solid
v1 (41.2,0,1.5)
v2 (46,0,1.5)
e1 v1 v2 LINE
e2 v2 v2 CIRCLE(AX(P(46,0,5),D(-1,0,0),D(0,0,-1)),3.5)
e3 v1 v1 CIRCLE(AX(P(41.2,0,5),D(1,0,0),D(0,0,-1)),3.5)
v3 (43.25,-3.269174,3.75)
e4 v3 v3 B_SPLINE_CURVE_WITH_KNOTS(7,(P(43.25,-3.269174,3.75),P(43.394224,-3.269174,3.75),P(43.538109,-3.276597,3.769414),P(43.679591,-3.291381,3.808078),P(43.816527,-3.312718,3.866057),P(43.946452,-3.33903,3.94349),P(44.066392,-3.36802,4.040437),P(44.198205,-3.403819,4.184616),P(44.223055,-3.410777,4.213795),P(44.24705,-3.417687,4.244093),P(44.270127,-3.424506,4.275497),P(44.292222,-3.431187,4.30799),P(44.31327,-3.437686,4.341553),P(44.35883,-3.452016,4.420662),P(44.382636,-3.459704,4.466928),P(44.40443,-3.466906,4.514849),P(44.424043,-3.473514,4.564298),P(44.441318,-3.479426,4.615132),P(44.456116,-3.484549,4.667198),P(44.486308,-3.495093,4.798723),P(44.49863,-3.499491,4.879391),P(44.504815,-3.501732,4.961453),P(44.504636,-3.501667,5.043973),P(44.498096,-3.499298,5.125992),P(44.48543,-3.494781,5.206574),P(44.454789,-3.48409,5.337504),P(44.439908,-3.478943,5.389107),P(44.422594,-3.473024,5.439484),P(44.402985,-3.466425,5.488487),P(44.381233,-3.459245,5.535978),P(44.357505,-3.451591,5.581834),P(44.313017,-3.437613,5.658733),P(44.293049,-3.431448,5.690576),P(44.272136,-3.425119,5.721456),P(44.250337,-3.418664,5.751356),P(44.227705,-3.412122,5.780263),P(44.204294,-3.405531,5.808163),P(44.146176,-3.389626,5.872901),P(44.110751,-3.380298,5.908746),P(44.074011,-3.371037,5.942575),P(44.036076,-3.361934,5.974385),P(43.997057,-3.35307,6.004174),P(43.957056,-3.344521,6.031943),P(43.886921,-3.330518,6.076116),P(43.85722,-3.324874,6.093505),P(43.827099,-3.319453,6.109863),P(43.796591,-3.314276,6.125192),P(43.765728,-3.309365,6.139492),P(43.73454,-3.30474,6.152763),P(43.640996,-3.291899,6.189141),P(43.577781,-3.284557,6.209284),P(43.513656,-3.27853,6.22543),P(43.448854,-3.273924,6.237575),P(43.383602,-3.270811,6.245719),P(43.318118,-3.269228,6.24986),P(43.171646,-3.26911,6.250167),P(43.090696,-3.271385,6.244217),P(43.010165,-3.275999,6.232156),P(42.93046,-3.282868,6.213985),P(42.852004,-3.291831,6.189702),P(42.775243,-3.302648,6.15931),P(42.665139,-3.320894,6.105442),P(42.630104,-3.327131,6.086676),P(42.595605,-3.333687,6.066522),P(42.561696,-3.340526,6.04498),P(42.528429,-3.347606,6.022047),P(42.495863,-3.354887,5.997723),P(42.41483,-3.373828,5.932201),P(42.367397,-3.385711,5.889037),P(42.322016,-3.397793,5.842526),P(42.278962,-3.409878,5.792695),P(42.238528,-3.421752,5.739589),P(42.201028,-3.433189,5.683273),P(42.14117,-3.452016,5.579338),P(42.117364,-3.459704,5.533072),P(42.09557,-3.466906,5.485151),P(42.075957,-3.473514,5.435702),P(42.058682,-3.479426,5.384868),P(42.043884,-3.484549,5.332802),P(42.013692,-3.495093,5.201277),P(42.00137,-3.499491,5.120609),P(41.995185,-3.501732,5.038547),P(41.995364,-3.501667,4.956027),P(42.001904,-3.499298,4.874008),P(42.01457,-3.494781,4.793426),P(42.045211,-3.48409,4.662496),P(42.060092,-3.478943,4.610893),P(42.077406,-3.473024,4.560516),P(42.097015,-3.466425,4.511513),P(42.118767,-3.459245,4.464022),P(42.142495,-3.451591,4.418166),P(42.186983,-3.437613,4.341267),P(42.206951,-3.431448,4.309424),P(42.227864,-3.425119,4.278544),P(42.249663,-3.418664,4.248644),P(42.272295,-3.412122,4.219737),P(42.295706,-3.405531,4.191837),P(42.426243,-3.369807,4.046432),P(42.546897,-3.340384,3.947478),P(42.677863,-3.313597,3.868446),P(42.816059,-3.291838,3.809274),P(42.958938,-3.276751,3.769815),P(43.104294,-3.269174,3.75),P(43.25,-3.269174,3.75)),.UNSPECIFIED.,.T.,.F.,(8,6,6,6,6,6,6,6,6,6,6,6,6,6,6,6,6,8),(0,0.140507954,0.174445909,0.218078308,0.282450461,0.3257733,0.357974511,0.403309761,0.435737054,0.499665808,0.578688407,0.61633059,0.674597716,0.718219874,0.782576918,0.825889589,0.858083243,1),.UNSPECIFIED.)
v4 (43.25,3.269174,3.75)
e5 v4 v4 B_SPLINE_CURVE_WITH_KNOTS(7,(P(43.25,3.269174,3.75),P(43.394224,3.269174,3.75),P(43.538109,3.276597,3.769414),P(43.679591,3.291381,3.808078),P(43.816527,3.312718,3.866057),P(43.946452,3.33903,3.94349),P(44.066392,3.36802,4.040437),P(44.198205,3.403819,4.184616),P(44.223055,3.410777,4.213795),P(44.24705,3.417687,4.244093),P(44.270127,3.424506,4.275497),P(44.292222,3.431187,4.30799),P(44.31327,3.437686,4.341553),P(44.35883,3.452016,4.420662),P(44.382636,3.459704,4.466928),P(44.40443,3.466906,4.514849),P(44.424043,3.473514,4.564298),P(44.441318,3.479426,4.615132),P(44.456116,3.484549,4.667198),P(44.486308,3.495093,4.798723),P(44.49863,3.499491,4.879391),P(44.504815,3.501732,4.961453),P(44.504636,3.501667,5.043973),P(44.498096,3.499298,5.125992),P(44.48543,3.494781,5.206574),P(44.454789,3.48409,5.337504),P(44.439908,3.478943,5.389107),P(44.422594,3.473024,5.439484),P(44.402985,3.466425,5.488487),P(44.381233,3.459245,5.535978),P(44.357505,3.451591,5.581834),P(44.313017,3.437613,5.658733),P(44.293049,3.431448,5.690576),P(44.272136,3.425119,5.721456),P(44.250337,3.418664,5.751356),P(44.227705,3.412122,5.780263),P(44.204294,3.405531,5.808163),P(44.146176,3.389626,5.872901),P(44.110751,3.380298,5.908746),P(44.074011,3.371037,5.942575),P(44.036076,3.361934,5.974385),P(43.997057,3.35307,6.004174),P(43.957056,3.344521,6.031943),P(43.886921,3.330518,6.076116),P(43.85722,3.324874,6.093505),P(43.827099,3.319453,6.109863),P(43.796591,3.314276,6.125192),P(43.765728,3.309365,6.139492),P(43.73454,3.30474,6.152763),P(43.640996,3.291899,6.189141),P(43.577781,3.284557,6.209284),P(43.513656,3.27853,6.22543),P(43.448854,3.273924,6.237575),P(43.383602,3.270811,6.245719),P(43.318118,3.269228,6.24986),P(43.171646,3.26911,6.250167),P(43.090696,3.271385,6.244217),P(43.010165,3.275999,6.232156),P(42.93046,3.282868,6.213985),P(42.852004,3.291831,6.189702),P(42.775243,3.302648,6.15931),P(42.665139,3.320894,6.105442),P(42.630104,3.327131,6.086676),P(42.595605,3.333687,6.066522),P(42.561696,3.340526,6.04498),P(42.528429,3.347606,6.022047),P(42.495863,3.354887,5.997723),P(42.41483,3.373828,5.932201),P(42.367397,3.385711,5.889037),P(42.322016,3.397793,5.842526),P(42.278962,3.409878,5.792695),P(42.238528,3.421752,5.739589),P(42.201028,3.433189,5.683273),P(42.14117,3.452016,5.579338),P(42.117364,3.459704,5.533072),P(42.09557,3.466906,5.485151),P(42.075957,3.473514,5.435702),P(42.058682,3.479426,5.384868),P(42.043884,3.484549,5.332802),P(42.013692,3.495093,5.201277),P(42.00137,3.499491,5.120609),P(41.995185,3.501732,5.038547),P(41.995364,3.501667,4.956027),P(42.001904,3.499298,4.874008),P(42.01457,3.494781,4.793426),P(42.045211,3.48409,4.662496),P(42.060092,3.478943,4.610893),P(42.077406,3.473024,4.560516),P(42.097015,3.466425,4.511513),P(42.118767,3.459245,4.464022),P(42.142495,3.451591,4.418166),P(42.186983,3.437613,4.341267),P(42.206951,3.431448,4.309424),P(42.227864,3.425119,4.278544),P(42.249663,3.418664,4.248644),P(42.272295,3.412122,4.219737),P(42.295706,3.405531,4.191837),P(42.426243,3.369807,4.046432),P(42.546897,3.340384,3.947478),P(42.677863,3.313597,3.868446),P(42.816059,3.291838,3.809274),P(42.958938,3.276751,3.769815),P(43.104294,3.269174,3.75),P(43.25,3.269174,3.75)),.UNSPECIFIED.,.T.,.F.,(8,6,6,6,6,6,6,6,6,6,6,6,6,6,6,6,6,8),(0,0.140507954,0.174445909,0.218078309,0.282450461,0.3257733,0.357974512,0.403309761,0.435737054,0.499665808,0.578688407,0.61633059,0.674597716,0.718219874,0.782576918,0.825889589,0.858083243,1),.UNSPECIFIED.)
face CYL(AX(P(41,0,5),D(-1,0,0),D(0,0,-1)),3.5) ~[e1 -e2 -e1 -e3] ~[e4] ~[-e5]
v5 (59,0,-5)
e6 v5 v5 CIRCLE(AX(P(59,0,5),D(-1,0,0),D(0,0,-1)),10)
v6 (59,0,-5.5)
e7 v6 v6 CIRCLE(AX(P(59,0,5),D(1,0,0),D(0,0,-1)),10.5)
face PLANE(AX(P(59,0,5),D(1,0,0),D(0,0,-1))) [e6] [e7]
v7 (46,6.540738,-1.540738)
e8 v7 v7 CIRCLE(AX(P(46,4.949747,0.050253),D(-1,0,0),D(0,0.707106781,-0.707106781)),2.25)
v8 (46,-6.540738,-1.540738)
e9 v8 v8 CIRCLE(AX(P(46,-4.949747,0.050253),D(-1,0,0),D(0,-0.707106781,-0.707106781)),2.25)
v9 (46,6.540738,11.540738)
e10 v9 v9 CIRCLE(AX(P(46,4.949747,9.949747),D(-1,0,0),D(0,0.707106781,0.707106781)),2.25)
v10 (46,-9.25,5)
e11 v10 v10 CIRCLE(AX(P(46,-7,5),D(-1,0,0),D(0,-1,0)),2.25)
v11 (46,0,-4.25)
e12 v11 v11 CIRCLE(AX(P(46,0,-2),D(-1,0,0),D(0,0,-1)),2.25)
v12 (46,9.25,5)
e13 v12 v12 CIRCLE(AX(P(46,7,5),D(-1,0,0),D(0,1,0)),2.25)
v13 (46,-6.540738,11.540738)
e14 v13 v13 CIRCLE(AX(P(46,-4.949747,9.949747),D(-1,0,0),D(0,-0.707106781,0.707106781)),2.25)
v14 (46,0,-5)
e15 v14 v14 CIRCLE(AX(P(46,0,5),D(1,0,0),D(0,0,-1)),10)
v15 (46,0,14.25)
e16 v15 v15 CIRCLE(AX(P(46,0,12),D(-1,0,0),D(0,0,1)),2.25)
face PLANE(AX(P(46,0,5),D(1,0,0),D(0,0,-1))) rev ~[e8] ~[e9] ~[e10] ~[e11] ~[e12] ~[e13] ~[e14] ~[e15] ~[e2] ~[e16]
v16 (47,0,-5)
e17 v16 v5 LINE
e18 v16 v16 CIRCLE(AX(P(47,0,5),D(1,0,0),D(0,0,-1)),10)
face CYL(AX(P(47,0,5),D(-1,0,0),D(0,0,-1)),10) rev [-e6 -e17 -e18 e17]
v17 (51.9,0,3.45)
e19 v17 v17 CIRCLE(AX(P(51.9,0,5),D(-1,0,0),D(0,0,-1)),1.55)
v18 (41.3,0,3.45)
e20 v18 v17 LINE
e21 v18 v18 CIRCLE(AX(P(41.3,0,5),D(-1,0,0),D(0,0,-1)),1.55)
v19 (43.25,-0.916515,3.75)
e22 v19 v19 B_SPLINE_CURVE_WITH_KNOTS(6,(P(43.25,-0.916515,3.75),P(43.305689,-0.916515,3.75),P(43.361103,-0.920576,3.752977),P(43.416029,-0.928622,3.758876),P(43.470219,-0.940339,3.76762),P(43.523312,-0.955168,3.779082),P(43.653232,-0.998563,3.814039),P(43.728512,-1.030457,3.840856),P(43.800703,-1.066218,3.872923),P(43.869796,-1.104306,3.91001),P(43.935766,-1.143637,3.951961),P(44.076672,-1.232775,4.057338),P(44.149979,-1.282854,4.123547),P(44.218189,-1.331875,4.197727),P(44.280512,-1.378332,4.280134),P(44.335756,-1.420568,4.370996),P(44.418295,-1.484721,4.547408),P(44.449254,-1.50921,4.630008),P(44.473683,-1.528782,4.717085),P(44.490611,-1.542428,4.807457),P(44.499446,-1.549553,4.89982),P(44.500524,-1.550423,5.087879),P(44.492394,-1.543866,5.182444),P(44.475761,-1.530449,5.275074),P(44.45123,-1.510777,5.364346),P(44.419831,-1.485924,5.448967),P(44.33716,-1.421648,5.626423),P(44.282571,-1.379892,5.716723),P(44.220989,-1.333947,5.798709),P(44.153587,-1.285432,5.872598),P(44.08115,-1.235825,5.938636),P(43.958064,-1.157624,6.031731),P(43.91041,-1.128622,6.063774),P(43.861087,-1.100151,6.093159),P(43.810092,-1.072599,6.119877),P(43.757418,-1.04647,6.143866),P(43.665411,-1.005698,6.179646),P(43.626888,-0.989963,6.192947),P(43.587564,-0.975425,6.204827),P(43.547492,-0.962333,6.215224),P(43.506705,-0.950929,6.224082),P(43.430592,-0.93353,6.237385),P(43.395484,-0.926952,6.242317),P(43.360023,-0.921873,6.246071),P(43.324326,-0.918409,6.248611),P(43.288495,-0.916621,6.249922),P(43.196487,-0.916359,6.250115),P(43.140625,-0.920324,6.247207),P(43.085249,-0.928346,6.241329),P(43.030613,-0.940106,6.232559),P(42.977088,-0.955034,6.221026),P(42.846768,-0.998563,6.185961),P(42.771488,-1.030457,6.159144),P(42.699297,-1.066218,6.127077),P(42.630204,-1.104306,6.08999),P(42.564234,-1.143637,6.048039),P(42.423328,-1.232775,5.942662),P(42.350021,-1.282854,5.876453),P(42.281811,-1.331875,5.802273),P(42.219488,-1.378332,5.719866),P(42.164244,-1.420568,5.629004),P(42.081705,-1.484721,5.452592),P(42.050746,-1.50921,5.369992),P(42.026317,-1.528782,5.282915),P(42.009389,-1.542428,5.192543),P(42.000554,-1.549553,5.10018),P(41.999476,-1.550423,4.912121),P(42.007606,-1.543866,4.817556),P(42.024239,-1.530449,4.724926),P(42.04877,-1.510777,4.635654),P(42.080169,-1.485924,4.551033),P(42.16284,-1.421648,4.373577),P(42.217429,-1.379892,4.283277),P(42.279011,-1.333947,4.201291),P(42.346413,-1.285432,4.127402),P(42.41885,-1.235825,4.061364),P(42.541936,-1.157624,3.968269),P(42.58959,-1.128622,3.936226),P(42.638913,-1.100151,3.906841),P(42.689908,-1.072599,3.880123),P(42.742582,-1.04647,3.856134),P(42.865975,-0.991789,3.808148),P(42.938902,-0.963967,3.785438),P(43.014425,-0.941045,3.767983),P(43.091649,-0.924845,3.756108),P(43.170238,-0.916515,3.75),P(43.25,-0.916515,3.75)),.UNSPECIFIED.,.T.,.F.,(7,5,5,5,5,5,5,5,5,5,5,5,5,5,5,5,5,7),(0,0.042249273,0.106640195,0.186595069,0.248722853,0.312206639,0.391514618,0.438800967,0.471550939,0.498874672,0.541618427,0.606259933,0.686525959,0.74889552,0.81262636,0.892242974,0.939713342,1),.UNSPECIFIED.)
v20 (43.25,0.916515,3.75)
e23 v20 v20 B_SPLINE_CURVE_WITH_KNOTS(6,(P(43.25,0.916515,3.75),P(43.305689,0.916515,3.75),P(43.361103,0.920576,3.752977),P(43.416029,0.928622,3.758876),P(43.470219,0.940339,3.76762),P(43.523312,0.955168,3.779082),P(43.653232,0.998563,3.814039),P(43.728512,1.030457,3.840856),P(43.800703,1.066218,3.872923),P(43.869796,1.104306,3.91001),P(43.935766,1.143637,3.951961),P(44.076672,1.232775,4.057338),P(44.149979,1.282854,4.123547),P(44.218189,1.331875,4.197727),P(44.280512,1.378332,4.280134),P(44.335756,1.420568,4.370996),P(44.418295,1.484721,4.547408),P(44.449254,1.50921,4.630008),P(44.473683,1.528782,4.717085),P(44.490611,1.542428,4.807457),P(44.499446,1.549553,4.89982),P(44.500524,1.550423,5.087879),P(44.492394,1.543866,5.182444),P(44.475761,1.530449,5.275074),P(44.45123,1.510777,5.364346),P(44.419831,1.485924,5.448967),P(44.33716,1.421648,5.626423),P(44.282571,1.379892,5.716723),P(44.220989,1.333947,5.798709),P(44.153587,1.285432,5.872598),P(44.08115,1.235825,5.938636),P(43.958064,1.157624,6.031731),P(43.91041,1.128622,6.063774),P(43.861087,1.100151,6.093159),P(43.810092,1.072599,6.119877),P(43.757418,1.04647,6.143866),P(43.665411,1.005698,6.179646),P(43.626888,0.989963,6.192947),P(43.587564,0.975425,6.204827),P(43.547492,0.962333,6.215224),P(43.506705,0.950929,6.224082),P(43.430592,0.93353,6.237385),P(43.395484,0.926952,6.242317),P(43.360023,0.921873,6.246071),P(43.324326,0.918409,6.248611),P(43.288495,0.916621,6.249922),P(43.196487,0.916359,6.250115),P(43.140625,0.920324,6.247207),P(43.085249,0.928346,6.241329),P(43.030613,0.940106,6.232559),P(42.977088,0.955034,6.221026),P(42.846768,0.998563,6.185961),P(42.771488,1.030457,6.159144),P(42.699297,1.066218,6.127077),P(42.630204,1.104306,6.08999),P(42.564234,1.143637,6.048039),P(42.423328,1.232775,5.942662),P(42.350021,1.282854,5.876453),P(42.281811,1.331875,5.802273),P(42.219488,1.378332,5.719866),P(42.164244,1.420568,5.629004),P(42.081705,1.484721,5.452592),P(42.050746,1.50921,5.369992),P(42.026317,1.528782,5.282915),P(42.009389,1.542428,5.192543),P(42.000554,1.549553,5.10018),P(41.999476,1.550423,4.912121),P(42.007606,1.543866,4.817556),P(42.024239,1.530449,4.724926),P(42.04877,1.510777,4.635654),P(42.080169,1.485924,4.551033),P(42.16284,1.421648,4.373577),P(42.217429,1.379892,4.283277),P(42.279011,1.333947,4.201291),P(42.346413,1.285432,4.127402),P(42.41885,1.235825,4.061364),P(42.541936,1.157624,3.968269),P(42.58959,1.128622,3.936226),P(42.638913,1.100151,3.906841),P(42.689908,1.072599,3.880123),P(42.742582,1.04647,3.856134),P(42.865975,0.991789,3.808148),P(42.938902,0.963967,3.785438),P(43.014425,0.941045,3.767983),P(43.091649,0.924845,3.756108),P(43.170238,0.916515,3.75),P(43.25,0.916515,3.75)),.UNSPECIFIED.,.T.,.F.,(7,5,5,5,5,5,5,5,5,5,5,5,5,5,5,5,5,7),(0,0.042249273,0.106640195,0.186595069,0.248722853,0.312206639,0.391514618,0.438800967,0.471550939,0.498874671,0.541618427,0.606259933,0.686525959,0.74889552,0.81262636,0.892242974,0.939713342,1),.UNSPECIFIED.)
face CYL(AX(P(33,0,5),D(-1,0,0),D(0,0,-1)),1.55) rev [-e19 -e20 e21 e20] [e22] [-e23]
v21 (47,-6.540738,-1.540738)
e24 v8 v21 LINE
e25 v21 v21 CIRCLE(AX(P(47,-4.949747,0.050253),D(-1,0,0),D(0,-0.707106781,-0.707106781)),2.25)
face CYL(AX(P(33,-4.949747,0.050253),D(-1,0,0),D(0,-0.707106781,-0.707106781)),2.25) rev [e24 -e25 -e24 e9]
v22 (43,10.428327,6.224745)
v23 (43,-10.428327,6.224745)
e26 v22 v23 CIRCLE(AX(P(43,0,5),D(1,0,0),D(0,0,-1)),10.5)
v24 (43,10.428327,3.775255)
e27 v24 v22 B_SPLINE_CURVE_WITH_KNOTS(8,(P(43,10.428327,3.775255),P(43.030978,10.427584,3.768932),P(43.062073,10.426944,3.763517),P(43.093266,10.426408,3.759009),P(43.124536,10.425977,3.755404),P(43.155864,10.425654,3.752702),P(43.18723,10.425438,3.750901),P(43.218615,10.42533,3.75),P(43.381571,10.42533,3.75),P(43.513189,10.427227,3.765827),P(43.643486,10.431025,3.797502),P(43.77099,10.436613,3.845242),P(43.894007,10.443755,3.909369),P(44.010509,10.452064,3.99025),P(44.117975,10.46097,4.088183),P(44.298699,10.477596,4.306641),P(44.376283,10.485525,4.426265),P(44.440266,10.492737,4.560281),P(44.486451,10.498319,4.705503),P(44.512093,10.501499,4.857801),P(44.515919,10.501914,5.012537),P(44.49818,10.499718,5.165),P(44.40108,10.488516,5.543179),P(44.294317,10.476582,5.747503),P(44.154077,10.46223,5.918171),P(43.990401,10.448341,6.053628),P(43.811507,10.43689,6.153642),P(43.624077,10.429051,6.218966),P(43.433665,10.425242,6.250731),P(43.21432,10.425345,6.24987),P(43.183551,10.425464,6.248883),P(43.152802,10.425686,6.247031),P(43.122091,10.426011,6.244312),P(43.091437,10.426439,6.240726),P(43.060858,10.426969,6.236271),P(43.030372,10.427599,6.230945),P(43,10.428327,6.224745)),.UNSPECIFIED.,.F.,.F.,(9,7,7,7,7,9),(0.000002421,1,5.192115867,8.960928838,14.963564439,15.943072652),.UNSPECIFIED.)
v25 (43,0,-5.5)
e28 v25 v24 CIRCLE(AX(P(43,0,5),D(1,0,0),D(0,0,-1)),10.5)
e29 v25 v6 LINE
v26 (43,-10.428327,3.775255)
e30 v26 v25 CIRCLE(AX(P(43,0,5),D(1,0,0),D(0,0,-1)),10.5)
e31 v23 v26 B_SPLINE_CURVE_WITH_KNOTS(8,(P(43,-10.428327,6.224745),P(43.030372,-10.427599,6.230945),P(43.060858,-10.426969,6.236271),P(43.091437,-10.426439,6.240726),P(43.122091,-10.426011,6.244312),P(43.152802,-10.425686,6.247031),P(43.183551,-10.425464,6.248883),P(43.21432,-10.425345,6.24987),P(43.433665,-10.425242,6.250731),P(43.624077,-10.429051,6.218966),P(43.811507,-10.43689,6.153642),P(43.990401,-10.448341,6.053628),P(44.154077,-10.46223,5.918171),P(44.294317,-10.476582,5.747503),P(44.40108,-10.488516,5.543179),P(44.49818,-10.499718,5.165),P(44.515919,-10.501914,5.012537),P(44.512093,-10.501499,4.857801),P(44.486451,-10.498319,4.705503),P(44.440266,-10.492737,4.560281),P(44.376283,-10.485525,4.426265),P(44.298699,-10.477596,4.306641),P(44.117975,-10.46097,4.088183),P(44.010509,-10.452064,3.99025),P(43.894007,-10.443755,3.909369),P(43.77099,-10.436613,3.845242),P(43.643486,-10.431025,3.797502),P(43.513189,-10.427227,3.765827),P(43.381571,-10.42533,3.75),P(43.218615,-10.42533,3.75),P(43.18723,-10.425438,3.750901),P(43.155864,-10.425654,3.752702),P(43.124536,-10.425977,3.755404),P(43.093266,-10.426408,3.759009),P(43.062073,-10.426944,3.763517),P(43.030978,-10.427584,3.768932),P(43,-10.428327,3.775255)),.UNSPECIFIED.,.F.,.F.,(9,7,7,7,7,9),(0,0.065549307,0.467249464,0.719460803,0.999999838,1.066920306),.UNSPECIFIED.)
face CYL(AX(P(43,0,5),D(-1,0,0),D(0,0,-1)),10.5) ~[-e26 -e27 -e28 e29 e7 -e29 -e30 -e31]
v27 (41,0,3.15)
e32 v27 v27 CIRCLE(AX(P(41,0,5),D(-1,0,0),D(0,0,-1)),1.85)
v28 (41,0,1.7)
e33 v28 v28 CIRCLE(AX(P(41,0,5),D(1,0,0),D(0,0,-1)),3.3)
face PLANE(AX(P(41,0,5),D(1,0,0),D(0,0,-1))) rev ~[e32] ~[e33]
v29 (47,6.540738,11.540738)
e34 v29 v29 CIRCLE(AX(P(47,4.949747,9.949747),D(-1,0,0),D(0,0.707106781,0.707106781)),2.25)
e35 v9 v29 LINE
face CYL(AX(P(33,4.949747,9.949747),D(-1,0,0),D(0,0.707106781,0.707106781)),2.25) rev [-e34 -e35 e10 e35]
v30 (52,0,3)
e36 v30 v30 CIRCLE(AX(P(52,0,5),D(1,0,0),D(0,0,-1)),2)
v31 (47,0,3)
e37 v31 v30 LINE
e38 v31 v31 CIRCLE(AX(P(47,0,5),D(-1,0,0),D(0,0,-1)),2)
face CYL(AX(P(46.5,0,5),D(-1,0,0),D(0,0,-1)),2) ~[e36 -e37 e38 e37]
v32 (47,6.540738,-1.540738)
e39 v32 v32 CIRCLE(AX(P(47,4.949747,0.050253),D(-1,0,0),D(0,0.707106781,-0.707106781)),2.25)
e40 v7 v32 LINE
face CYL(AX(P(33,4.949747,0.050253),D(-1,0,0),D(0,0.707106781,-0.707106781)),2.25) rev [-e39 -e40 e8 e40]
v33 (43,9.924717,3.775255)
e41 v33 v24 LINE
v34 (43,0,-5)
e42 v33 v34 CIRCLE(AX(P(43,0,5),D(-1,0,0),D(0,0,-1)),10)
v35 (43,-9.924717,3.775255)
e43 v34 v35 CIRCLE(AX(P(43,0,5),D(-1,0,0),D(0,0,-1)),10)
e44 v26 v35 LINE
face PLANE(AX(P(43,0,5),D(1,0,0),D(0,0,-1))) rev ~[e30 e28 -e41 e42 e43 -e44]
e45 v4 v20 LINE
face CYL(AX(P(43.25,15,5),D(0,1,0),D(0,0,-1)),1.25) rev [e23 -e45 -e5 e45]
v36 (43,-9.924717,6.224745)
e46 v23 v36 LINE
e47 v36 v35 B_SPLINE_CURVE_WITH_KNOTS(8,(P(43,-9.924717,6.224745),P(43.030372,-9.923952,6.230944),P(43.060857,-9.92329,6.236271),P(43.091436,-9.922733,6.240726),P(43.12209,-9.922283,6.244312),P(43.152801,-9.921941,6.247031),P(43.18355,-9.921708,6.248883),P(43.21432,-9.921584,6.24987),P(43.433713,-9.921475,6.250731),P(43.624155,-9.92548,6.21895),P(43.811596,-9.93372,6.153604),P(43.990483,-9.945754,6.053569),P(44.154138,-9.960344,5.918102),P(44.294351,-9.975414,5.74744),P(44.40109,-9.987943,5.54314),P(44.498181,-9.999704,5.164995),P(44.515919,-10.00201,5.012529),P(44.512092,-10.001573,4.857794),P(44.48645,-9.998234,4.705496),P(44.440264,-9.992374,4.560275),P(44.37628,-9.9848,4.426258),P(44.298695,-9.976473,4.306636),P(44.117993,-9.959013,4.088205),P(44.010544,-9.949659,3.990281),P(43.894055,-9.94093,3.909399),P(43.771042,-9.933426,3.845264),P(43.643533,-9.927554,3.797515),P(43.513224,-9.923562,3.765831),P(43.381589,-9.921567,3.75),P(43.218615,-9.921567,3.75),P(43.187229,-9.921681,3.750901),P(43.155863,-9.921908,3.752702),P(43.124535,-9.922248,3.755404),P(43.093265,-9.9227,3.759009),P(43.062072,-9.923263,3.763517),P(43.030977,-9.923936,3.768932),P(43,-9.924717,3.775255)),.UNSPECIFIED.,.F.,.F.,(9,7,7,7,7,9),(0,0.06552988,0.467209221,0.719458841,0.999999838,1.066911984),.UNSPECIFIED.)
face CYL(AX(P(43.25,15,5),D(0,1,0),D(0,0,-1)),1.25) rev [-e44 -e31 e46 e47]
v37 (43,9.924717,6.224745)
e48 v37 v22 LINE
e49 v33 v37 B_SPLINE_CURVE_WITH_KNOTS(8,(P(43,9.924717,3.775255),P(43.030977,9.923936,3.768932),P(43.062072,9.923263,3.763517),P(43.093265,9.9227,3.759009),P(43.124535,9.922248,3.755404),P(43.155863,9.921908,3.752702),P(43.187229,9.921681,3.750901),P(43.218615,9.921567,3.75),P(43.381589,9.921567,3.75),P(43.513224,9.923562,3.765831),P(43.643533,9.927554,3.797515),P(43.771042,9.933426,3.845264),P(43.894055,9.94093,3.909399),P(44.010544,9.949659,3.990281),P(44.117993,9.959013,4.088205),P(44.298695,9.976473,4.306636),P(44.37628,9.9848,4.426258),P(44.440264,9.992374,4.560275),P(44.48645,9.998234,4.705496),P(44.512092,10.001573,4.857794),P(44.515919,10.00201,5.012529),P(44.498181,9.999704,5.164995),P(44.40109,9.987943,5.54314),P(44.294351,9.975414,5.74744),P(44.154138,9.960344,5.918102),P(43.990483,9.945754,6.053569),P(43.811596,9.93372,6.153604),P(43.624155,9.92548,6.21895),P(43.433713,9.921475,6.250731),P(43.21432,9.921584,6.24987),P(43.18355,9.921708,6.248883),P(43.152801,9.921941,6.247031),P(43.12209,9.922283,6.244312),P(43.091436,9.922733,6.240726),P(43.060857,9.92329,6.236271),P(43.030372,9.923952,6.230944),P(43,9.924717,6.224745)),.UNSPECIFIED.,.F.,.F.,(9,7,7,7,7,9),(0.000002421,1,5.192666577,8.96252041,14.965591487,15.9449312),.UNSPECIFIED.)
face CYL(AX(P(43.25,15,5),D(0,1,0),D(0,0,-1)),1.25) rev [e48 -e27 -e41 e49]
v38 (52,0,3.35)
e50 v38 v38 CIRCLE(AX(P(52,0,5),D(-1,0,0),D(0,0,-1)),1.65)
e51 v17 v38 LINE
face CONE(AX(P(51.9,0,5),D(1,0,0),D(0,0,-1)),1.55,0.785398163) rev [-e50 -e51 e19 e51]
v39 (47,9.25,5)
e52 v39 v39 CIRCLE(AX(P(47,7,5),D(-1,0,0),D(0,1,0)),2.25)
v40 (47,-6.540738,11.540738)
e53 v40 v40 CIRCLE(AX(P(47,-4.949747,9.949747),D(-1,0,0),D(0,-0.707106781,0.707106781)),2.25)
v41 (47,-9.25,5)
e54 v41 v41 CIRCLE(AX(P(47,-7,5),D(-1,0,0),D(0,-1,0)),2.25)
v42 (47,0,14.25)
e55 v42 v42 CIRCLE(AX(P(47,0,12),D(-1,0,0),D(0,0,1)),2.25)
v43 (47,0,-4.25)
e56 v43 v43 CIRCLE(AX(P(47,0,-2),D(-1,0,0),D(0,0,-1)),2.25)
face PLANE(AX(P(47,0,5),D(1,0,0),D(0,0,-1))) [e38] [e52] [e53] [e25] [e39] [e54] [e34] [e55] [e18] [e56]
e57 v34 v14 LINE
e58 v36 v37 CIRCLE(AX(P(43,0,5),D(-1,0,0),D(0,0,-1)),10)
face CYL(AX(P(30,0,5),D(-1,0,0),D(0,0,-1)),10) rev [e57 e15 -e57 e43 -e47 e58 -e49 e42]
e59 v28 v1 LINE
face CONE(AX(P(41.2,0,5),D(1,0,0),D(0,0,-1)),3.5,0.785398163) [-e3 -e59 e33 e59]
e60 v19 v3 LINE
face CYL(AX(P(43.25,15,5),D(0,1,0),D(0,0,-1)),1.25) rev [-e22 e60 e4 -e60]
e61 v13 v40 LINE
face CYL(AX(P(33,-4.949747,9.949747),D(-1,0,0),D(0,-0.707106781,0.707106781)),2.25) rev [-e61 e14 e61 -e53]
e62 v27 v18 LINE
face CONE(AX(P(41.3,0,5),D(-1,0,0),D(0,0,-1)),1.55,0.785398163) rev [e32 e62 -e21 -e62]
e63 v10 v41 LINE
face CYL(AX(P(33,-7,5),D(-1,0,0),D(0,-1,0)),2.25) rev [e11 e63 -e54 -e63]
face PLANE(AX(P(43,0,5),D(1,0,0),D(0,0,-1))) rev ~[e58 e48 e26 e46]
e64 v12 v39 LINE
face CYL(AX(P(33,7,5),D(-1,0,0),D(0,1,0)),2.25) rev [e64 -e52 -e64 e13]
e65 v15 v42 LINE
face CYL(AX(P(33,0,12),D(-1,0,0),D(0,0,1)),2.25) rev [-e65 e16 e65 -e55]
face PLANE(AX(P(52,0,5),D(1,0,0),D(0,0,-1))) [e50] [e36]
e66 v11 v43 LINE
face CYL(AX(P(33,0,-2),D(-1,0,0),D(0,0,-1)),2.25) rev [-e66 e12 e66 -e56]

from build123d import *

# Parameters (mm, degrees)
CYLINDER039_R          = 2.25
CYLINDER039_DEPTH      = 30
ARRAY002_COUNT         = 8
CYLINDER038_R          = 1.55
CYLINDER038_DEPTH      = 30
CYLINDER045_R          = 1.25
CYLINDER045_DEPTH      = 32
CYLINDER045_ROLL_ANGLE = 90
CYLINDER043_R          = 3.5
CYLINDER043_DEPTH      = 5.5
CYLINDER042_R          = 10
CYLINDER042_DEPTH      = 16
CYLINDER037_R          = 10
CYLINDER037_DEPTH      = 16
CYLINDER036_R          = 10.5
CYLINDER036_DEPTH      = 16
CYLINDER044_R          = 2
CYLINDER044_DEPTH      = 5.5
CHAMFER062_1_SIZE      = 0.3
CHAMFER062_2_SIZE      = 0.2
CHAMFER062_3_SIZE      = 0.1
CLONE044_PITCH_ANGLE   = 90


with BuildPart() as array002:
    # Cylinder039 → Cylinder039 (new body)
    with BuildSketch(Plane(origin=(7, 0, -10), x_dir=(1, 0, 0), z_dir=(0, 0, 1))):
        Circle(CYLINDER039_R)
    extrude(amount=CYLINDER039_DEPTH)

    # Array002: Array002 ×8 about axis
    array002_axis = Axis((0, 0, 0), (0, 0, 1))


with BuildPart() as array002_1:
    add(array002.part)
    for i in range(1, ARRAY002_COUNT):
        add(array002.part.rotate(array002_axis, i * 360 / ARRAY002_COUNT))


with BuildPart() as fusion033:
    # Cylinder038 → Cylinder038 (new body)
    with BuildSketch(Plane.XY.offset(-10)):
        Circle(CYLINDER038_R)
    extrude(amount=CYLINDER038_DEPTH)

    # Fusion033: union Array002
    add(array002_1.part)


with BuildPart() as cylinder045:
    # Cylinder045 → Cylinder045 (new body)
    with BuildSketch(Plane.XY):
        Circle(CYLINDER045_R)
    extrude(amount=CYLINDER045_DEPTH)


with BuildPart() as cylinder045_1:
    # Cylinder045 roll: moved
    add(cylinder045.part.rotate(Axis((0, 0, 0), (1, 0, 0)), CYLINDER045_ROLL_ANGLE))


with BuildPart() as cylinder045_2:
    # Cylinder045 placement: moved
    add(cylinder045_1.part.moved(Location((0, 15, 0.25))))


with BuildPart() as cylinder043:
    # Cylinder043 → Cylinder043 (new body)
    with BuildSketch(Plane.XY.offset(-2)):
        Circle(CYLINDER043_R)
    extrude(amount=CYLINDER043_DEPTH)


with BuildPart() as cylinder042:
    # Cylinder042 → Cylinder042 (new body)
    with BuildSketch(Plane.XY.offset(-13)):
        Circle(CYLINDER042_R)
    extrude(amount=CYLINDER042_DEPTH)


with BuildPart() as fusion034:
    # Cylinder037 → Cylinder037 (new body)
    with BuildSketch(Plane.XY.offset(4)):
        Circle(CYLINDER037_R)
    extrude(amount=CYLINDER037_DEPTH)

    # Fusion034: union Cylinder042
    add(cylinder042.part)


with BuildPart() as cut028:
    # Cylinder036 → Cylinder036 (new body)
    with BuildSketch(Plane.XY):
        Circle(CYLINDER036_R)
    extrude(amount=CYLINDER036_DEPTH)

    # Cut028: cut Fusion034
    add(fusion034.part, mode=Mode.SUBTRACT)


with BuildPart() as right_tire:
    # Cylinder044 → Cylinder044 (new body)
    with BuildSketch(Plane.XY.offset(3.5)):
        Circle(CYLINDER044_R)
    extrude(amount=CYLINDER044_DEPTH)

    # Fusion035: union Cylinder043, Cut028
    add(cylinder043.part)
    add(cut028.part)

    # Cut002: cut Cylinder045
    add(cylinder045_2.part, mode=Mode.SUBTRACT)

    # Cut029: cut Fusion033
    add(fusion033.part, mode=Mode.SUBTRACT)

    # Chamfer062 1
    chamfer062_1_edges = [right_tire.edges().sort_by_distance(p)[0] for p in [
        (-1.55, 0, -2),
    ]]
    chamfer(chamfer062_1_edges, length=CHAMFER062_1_SIZE)

    # Chamfer062 2
    chamfer062_2_edges = [right_tire.edges().sort_by_distance(p)[0] for p in [
        (-3.5, 0, -2),
    ]]
    chamfer(chamfer062_2_edges, length=CHAMFER062_2_SIZE)

    # Chamfer062 3
    chamfer062_3_edges = [right_tire.edges().sort_by_distance(p)[0] for p in [
        (-1.55, 0, 9),
    ]]
    chamfer(chamfer062_3_edges, length=CHAMFER062_3_SIZE)


with BuildPart() as right_tire_1:
    # Clone044 pitch: moved
    add(right_tire.part.rotate(Axis((0, 0, 0), (0, 1, 0)), CLONE044_PITCH_ANGLE))


with BuildPart() as right_tire_2:
    # Clone044 placement: moved
    add(right_tire_1.part.moved(Location((43, 0, 5))))


solid = right_tire_2.part
